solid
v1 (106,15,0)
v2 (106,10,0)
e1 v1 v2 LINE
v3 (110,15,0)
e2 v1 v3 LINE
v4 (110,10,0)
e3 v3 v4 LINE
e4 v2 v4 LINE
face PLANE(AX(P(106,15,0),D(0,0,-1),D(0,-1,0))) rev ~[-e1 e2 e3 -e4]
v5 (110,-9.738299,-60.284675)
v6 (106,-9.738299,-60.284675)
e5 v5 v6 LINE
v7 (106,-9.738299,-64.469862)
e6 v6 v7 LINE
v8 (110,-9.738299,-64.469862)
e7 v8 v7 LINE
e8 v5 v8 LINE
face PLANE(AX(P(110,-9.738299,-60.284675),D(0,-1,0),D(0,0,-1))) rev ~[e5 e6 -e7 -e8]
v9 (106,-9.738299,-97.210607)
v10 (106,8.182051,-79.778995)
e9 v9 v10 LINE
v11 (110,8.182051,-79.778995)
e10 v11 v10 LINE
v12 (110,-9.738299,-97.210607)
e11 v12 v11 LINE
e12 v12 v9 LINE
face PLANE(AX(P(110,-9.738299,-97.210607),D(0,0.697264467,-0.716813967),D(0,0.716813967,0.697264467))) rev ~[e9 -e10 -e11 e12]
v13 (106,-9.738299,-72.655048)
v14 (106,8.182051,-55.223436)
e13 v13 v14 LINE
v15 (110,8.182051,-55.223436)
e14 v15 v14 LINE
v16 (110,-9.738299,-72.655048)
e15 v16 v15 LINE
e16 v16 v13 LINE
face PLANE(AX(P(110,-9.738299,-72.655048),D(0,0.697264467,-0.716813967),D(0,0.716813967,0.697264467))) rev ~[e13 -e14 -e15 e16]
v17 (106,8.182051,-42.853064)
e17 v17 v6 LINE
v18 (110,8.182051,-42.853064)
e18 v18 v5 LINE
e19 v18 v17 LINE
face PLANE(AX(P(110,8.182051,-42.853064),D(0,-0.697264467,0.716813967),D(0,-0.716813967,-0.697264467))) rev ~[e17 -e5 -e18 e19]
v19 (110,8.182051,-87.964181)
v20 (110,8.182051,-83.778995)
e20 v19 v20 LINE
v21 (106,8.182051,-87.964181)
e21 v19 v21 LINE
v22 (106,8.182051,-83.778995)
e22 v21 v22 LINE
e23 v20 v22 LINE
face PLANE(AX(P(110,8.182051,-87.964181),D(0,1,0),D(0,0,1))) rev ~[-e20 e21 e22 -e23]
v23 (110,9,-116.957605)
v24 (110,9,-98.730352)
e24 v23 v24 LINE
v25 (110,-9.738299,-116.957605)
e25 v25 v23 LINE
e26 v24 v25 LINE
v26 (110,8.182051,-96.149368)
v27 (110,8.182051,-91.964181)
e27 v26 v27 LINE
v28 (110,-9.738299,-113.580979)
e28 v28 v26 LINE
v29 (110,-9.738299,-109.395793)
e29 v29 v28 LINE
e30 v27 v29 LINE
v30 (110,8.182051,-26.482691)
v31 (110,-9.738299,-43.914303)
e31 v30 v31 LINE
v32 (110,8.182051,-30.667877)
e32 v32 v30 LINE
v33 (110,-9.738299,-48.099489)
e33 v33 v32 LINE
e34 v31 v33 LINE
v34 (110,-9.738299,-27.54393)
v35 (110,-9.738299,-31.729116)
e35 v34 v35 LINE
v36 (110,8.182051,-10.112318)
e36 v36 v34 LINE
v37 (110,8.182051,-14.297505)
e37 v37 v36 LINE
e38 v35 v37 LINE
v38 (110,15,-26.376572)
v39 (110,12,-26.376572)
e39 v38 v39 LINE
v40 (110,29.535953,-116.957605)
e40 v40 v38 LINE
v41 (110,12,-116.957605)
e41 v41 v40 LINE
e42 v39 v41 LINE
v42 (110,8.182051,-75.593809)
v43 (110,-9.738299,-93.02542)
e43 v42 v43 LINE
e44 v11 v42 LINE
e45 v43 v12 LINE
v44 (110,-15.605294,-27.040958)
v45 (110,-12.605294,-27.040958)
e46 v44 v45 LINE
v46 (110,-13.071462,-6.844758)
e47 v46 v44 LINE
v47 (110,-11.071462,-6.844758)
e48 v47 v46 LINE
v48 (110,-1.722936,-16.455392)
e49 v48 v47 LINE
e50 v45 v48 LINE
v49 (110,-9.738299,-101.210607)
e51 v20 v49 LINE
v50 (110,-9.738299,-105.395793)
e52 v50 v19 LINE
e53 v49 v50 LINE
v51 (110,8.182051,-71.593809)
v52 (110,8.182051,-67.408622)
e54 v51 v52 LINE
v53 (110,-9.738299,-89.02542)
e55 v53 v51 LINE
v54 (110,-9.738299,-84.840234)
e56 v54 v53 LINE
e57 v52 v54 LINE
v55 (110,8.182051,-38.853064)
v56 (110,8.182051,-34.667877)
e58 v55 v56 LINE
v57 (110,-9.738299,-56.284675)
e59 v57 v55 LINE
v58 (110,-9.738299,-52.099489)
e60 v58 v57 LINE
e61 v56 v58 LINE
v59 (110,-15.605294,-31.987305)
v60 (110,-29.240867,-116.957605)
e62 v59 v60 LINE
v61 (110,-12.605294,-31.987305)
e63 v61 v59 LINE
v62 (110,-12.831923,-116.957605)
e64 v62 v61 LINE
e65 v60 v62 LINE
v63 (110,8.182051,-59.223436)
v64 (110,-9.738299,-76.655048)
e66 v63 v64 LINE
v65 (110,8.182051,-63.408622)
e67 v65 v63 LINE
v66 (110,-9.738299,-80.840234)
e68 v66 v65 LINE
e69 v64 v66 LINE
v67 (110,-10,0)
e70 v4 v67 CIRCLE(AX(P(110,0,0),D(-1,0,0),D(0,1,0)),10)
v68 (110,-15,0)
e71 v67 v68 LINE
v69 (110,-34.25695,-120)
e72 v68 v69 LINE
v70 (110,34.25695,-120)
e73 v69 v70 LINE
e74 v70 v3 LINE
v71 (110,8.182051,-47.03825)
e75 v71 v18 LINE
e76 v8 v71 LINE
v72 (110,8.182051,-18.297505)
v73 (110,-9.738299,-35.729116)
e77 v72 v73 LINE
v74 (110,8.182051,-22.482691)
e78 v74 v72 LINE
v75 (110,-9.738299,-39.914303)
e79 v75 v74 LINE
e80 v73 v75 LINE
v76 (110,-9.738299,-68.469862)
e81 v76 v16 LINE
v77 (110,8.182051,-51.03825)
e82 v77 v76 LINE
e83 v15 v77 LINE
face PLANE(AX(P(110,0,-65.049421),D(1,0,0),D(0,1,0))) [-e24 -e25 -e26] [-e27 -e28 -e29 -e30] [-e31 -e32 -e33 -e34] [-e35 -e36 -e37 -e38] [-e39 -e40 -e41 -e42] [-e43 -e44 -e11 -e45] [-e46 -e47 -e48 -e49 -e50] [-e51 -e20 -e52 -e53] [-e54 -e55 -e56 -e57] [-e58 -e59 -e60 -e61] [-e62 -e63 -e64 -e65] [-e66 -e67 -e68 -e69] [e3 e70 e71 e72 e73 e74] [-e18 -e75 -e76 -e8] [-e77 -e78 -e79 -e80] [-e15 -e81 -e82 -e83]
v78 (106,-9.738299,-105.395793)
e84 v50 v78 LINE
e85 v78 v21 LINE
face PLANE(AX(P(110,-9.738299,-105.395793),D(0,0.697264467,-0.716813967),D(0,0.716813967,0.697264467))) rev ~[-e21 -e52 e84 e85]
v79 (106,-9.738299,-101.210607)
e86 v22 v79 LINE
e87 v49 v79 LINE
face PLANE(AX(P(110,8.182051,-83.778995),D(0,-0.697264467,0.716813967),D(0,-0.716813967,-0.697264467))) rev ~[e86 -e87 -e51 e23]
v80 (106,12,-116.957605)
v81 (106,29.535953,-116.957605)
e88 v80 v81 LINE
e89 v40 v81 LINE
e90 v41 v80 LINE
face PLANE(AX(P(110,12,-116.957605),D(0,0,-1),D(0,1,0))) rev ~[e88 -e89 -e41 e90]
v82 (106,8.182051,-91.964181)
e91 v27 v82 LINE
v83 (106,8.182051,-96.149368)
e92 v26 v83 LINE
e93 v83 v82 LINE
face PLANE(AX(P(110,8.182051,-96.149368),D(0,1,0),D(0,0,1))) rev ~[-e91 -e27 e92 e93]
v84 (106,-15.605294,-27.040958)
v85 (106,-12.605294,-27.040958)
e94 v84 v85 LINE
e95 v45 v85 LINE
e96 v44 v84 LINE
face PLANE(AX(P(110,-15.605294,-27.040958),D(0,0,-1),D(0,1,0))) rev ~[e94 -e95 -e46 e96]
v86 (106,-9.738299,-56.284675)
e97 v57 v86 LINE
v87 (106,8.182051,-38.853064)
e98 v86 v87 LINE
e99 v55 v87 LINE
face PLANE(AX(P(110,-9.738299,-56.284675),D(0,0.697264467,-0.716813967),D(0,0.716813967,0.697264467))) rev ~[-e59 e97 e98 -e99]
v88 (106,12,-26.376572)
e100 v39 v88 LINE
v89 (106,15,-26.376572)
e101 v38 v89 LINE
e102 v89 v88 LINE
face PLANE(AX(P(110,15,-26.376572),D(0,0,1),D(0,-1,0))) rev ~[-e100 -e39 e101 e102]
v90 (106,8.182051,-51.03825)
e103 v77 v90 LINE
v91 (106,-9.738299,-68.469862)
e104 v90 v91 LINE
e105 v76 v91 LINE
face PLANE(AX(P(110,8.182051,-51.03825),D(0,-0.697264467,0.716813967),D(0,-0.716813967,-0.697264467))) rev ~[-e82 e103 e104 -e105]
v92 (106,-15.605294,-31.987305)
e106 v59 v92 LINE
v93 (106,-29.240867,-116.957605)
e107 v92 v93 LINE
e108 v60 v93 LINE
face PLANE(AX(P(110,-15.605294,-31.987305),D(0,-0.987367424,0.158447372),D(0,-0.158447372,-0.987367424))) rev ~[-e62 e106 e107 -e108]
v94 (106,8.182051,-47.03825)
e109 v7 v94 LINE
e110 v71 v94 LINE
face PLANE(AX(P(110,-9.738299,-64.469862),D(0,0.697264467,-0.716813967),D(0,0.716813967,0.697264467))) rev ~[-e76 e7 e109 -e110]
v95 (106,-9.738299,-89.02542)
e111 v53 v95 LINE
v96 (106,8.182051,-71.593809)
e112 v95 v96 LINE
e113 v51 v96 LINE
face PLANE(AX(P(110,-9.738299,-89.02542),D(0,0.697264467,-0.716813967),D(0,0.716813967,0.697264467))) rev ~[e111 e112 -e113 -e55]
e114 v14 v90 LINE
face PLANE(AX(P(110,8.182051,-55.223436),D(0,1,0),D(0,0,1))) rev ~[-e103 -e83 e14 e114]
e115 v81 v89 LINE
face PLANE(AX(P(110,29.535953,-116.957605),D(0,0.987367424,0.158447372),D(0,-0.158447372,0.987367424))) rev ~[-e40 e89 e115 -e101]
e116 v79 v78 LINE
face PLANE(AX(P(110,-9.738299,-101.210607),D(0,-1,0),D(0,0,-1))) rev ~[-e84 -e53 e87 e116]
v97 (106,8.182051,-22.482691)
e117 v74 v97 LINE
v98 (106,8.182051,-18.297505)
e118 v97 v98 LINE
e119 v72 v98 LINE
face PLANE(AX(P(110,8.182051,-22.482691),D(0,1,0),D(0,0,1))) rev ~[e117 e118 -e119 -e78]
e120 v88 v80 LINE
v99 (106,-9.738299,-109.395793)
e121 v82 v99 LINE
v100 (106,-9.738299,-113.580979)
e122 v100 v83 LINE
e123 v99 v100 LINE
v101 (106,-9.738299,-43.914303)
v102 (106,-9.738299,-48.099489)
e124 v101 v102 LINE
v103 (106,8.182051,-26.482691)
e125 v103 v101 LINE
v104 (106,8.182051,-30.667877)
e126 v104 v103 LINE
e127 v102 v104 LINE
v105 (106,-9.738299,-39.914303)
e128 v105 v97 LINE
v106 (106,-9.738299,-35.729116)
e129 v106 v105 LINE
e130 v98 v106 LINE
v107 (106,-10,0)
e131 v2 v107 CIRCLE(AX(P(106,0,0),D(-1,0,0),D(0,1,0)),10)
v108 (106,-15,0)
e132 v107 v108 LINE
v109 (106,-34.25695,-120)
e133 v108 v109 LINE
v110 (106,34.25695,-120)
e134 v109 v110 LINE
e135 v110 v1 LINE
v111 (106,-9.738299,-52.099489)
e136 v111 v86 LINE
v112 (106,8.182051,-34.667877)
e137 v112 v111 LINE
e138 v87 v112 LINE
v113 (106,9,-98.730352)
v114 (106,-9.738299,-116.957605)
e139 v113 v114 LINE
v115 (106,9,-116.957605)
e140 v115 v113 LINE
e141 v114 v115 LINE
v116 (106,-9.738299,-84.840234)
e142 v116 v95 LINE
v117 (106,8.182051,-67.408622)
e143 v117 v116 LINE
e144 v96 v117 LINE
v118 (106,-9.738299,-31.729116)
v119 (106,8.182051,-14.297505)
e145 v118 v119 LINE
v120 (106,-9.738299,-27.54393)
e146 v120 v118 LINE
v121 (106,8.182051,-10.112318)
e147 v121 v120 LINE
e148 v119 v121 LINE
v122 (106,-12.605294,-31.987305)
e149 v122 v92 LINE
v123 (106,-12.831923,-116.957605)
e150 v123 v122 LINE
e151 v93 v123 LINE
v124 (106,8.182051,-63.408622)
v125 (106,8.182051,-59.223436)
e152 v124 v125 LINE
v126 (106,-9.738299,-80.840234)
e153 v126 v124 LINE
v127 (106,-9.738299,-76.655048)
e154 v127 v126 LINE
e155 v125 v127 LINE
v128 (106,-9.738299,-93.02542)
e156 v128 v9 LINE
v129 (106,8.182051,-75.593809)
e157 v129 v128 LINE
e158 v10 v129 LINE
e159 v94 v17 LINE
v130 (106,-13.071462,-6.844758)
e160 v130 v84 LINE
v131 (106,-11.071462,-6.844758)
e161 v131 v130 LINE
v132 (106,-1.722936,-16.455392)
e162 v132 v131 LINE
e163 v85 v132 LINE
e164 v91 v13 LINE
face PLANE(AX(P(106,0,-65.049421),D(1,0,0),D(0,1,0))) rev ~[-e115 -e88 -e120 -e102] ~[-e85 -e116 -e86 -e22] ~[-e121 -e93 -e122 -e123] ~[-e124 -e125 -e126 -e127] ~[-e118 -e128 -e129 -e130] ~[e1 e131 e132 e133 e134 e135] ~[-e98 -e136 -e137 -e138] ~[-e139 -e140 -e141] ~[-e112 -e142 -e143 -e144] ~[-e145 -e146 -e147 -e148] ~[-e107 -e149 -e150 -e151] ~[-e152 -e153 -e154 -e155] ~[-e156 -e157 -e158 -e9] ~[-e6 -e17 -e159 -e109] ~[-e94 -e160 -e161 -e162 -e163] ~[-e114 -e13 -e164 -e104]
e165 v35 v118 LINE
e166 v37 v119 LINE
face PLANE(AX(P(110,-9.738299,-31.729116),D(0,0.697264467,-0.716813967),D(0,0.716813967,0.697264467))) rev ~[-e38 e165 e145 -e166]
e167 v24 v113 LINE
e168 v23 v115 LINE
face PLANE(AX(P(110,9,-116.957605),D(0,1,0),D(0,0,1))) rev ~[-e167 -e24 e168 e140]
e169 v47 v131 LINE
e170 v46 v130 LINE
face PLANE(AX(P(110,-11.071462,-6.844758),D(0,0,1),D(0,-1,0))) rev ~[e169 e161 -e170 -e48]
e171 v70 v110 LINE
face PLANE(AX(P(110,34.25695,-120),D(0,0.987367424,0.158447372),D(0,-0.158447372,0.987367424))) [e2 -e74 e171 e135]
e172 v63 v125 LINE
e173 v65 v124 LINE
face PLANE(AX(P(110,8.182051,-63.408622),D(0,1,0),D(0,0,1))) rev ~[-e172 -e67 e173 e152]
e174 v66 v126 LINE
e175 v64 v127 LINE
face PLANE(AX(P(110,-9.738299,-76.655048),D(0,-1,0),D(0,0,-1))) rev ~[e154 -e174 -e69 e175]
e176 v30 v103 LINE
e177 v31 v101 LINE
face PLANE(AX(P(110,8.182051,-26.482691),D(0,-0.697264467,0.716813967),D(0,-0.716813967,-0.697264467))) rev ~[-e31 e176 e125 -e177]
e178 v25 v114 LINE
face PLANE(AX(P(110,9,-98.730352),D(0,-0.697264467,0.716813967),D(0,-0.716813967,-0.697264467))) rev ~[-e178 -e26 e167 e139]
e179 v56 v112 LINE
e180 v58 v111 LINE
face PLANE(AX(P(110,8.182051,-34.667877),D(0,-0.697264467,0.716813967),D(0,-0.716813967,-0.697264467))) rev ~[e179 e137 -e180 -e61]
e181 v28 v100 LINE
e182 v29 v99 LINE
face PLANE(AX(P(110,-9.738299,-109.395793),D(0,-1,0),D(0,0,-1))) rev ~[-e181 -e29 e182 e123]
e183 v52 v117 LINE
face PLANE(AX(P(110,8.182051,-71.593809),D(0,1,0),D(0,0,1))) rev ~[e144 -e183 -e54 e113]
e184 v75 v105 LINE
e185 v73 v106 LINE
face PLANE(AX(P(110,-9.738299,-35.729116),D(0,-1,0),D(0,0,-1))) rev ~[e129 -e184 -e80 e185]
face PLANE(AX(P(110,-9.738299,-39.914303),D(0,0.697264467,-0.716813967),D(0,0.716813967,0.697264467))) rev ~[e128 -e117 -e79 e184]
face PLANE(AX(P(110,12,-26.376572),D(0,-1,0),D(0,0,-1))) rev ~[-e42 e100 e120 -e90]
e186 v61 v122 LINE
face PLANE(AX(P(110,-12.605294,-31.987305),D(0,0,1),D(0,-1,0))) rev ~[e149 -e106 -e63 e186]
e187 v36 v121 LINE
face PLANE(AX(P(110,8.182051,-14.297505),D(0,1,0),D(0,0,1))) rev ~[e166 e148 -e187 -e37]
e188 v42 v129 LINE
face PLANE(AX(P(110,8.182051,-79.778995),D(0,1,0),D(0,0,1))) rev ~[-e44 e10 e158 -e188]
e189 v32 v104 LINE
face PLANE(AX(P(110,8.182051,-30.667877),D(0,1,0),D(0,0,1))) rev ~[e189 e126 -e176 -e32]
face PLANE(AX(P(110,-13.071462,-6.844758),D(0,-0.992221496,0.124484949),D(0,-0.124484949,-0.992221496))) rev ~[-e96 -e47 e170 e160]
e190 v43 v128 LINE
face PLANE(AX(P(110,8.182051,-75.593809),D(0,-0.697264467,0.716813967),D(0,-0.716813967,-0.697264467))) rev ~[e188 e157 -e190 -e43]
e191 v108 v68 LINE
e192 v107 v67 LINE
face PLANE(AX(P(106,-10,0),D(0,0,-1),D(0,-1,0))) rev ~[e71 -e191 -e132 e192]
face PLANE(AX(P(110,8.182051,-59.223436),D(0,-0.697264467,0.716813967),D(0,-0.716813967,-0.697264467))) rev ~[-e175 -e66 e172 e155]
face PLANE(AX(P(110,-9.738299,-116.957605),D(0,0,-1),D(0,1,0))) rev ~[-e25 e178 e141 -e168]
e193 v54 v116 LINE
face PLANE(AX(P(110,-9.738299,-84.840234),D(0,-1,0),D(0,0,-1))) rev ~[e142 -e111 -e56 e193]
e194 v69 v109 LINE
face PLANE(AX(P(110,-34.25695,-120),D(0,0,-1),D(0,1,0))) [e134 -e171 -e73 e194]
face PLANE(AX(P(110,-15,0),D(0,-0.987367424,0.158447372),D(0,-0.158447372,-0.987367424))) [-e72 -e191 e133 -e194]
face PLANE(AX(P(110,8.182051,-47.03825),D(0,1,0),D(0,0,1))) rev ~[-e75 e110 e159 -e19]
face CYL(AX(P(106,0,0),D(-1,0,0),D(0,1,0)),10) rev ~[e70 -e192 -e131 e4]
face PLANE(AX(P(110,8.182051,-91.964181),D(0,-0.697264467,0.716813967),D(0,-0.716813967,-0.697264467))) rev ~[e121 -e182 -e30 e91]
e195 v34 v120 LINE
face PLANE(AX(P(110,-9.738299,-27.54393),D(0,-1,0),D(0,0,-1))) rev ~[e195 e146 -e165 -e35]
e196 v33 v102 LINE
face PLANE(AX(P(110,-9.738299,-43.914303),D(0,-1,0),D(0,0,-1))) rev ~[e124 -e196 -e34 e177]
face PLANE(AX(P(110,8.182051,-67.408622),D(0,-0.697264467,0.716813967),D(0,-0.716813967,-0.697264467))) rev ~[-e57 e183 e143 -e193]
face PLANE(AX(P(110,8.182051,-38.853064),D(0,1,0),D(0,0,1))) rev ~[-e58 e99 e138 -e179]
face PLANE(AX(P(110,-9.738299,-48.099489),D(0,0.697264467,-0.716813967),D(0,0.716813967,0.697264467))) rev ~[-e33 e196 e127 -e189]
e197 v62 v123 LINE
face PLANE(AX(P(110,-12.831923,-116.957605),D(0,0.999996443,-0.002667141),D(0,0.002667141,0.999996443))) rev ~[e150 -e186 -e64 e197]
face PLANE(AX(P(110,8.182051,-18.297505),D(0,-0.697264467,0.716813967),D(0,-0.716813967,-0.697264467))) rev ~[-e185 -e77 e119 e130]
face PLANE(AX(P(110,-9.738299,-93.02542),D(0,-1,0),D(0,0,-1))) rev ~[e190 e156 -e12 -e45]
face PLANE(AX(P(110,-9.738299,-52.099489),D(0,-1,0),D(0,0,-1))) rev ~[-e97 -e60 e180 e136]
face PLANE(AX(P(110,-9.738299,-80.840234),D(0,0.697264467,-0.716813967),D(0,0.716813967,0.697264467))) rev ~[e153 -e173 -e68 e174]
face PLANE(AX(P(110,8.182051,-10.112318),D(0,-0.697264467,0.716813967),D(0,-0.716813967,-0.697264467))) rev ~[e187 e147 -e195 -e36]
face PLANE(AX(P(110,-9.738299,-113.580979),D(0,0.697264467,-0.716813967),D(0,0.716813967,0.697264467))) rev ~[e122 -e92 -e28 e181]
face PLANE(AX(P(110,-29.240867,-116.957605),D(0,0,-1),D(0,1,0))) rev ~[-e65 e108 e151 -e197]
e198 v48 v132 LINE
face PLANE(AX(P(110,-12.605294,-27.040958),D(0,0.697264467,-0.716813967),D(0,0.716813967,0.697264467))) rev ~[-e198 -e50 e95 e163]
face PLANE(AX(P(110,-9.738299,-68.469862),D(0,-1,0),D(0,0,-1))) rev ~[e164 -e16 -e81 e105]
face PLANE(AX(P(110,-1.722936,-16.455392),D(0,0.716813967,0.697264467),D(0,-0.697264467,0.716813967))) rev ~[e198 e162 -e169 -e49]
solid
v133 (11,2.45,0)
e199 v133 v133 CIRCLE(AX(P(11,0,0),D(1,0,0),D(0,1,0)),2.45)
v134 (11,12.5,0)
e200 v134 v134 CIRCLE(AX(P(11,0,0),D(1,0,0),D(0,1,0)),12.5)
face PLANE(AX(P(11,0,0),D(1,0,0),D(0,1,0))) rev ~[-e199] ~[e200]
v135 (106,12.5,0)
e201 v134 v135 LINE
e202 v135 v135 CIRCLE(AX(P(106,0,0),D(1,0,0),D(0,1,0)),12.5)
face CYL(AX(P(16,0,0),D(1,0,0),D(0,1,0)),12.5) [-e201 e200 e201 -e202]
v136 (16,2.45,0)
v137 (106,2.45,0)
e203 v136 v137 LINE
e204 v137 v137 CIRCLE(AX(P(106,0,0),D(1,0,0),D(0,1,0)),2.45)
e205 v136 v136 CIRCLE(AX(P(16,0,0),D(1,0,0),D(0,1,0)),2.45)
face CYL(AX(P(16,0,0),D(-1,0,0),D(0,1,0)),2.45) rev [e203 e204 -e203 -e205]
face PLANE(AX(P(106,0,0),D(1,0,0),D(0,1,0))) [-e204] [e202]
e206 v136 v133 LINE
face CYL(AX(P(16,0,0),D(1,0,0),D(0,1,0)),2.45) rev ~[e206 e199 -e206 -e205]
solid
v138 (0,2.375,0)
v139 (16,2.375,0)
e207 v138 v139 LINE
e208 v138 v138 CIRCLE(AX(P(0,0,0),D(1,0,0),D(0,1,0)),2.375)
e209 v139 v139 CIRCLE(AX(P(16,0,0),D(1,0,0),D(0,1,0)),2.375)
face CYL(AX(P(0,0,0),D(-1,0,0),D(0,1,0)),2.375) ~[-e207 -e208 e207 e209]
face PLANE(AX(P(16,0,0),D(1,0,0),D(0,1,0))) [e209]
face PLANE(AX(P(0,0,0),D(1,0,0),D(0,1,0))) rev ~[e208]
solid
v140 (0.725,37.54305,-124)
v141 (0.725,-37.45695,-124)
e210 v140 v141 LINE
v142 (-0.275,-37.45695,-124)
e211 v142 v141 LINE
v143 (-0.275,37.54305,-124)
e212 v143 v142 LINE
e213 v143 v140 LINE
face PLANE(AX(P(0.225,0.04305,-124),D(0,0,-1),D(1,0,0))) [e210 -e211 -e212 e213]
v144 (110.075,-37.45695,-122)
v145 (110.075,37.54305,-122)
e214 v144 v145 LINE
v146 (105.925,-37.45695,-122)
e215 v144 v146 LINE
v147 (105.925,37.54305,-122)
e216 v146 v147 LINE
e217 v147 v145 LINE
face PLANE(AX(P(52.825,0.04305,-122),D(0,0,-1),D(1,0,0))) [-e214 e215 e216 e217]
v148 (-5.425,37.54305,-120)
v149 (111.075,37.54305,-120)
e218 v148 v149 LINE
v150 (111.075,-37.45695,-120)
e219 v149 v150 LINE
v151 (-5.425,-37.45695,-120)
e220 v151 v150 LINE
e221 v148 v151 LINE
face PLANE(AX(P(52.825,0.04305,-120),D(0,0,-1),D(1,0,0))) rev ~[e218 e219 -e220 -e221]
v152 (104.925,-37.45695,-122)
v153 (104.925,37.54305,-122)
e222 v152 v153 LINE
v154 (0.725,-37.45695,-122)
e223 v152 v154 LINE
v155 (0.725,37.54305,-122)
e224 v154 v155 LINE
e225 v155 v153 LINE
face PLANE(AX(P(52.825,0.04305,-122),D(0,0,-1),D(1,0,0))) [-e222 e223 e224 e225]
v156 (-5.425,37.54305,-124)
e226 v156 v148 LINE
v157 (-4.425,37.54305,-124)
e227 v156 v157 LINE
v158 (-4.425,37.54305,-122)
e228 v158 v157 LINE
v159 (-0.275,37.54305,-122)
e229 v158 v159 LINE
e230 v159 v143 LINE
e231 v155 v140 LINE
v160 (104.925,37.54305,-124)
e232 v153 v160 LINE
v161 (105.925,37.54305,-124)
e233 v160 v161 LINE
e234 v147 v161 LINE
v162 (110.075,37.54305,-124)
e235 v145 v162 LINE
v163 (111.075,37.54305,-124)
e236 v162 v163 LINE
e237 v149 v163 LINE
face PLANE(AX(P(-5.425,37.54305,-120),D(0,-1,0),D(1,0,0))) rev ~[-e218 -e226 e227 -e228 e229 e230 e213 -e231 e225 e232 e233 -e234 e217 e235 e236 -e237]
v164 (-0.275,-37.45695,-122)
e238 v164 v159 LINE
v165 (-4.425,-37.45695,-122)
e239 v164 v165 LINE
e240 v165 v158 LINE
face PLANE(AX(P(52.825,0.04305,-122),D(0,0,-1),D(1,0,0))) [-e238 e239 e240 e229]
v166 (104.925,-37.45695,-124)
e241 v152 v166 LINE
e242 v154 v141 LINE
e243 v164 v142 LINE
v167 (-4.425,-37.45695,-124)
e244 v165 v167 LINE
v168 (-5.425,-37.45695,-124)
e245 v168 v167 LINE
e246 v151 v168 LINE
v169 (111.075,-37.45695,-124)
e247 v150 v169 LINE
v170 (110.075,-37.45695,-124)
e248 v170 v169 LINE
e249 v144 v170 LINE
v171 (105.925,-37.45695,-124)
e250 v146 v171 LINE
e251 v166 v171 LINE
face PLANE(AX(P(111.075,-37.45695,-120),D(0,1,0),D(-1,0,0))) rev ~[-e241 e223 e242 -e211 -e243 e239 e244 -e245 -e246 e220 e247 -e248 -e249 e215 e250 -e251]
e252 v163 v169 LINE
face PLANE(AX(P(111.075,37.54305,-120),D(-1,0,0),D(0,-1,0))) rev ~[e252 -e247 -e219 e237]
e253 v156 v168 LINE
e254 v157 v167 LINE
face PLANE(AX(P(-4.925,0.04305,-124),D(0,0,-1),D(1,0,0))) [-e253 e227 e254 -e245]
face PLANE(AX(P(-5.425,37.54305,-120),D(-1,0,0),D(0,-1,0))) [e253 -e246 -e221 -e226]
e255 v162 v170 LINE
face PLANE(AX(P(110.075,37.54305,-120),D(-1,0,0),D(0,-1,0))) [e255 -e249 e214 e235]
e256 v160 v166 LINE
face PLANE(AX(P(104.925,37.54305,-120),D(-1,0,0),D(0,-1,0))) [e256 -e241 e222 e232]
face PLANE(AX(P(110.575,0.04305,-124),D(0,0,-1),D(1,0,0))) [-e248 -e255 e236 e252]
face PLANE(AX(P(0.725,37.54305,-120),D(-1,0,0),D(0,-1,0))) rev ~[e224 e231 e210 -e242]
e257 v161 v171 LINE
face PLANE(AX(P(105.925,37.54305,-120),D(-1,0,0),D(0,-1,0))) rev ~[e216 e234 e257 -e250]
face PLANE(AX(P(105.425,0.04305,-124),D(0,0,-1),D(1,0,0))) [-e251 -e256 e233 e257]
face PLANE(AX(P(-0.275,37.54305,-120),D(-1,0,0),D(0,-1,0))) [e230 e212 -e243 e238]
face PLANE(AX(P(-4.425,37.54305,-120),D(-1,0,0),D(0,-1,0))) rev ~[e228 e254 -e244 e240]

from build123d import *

# Parameters (mm, degrees)
F0_R          = 2.375
F1_DEPTH      = 16
F2_R          = 12.5
F2_R_2        = 2.45
F3_DEPTH      = 90
F3_DEPTH_BACK = 5
F5_DEPTH      = 4
F7_DEPTH      = 4
F9_DEPTH      = 25
F10_W         = 104.2
F10_H         = 75
F10_W_2       = 4.15
F10_W_3       = 1
F10_W_4       = 4
F10_H_2       = 68.5138990056
F11_DEPTH     = 2
F12_DEPTH     = 4


with BuildPart() as f1:
    # F0 (on Right) → F1 (new body)
    with BuildSketch(Plane.YZ):
        Circle(F0_R)
    extrude(amount=F1_DEPTH)


with BuildPart() as f3:
    # F2 (on face) → F3 (new body, two sides)
    with BuildSketch(Plane.YZ.offset(16)) as f3_sk:
        Circle(F2_R)
        Circle(F2_R_2, mode=Mode.SUBTRACT)
    extrude(amount=F3_DEPTH)
    extrude(f3_sk.sketch, amount=-F3_DEPTH_BACK)


with BuildPart() as f5:
    # F4 (on face) → F5 (new body)
    with BuildSketch(Plane.YZ.offset(106)):
        with BuildLine():
            Line((15, 0), (12.5, 0))
            ThreePointArc((12.5, 0), (0, -12.5), (-12.5, 0))
            Line((-12.5, 0), (-15, 0))
            ThreePointArc((-15, 0), (0, -15), (15, 0))
        make_face()
        with BuildLine():
            Line((12.5, 0), (10, 0))
            ThreePointArc((10, 0), (0, -10), (-10, 0))
            Line((-10, 0), (-12.5, 0))
            ThreePointArc((-12.5, 0), (0, -12.5), (12.5, 0))
        make_face()
    extrude(amount=F5_DEPTH)

    # F6 (on face) → F7 (join)
    with BuildSketch(Plane.YZ.offset(110)):
        with BuildLine():
            Line((34.2569495028, -120), (15, 0))
            ThreePointArc((15, 0), (0, -15), (-15, 0))
            Line((-15, 0), (-34.2569495028, -120))
            Line((-34.2569495028, -120), (34.2569495028, -120))
        make_face()
        with BuildLine():
            Line((15, 0), (12.5, 0))
            ThreePointArc((12.5, 0), (0, -12.5), (-12.5, 0))
            Line((-12.5, 0), (-15, 0))
            ThreePointArc((-15, 0), (0, -15), (15, 0))
        make_face()
        with BuildLine():
            Line((12.5, 0), (10, 0))
            ThreePointArc((10, 0), (0, -10), (-10, 0))
            Line((-10, 0), (-12.5, 0))
            ThreePointArc((-12.5, 0), (0, -12.5), (12.5, 0))
        make_face()
    extrude(amount=-F7_DEPTH)

    # F8 (on face) → F9 (cut)
    with BuildSketch(Plane.YZ.offset(110)):
        Polygon((8.1820506343, -10.1123183083), (-9.7382985293, -27.5439299909), (-9.7382985293, -31.7291163014), (8.1820506343, -14.2975046188), align=None)
        Polygon((8.1820506343, -18.2975046188), (-9.7382985293, -35.7291163014), (-9.7382985293, -39.9143026119), (8.1820506343, -22.4826909294), align=None)
        Polygon((8.1820506343, -26.4826909294), (-9.7382985293, -43.9143026119), (-9.7382985293, -48.0994889225), (8.1820506343, -30.6678772399), align=None)
        Polygon((8.1820506343, -34.6678772399), (-9.7382985293, -52.0994889225), (-9.7382985293, -56.284675233), (8.1820506343, -38.8530635505), align=None)
        Polygon((8.1820506343, -42.8530635505), (-9.7382985293, -60.284675233), (-9.7382985293, -64.4698615436), (8.1820506343, -47.038249861), align=None)
        Polygon((8.1820506343, -51.038249861), (-9.7382985293, -68.4698615436), (-9.7382985293, -72.6550478541), (8.1820506343, -55.2234361716), align=None)
        Polygon((8.1820506343, -59.2234361716), (-9.7382985293, -76.6550478541), (-9.7382985293, -80.8402341647), (8.1820506343, -63.4086224821), align=None)
        Polygon((8.1820506343, -67.4086224821), (-9.7382985293, -84.8402341647), (-9.7382985293, -89.0254204752), (8.1820506343, -71.5938087926), align=None)
        Polygon((8.1820506343, -75.5938087926), (-9.7382985293, -93.0254204752), (-9.7382985293, -97.2106067857), (8.1820506343, -79.7789951032), align=None)
        Polygon((8.1820506343, -83.7789951032), (-9.7382985293, -101.2106067857), (-9.7382985293, -105.3957930963), (8.1820506343, -87.9641814137), align=None)
        Polygon((8.1820506343, -91.9641814137), (-9.7382985293, -109.3957930963), (-9.7382985293, -113.5809794068), (8.1820506343, -96.1493677243), align=None)
        Polygon((-13.0714615807, -6.8447575172), (-15.6052940354, -27.0409584045), (-12.6052940354, -27.0409584045), (-1.7229356509, -16.4553920288), (-11.0714615807, -6.8447575172), align=None)
        Polygon((-29.240867123, -116.9576048851), (-12.8319226205, -116.9576048851), (-12.6052940354, -31.9873051873), (-15.6052940354, -31.9873051873), align=None)
        Polygon((12, -26.3765715063), (12, -98.7303515781), (12, -116.9576048851), (29.5359532141, -116.9576048851), (15, -26.3765715063), align=None)
        Polygon((9, -98.7303515781), (-9.7382985293, -116.9576048851), (9, -116.9576048851), align=None)
    extrude(amount=-F9_DEPTH, mode=Mode.SUBTRACT)


with BuildPart() as f11:
    # F10 (on face) → F11 (new body)
    with BuildSketch(Plane(origin=(0, 0, -120), x_dir=(1, 0, 0), z_dir=(0, 0, -1))):
        with Locations((52.825, -0.0430504972)):
            Rectangle(F10_W, F10_H)
        with Locations((-2.35, -0.0430504972)):
            Rectangle(F10_W_2, F10_H)
        with Locations((-4.925, -0.0430504972)):
            Rectangle(F10_W_3, F10_H)
        with Locations((0.225, -0.0430504972)):
            Rectangle(F10_W_3, F10_H)
        with Locations((110.575, -0.0430504972)):
            Rectangle(F10_W_3, F10_H)
        with Locations((105.425, -0.0430504972)):
            Rectangle(F10_W_3, F10_H)
        with Locations((108, -0.0430504972)):
            Rectangle(F10_W_2, F10_H)
        with Locations((108, 0)):
            Rectangle(F10_W_4, F10_H_2, mode=Mode.SUBTRACT)
        with Locations((108, 0)):
            Rectangle(F10_W_4, F10_H_2)
    extrude(amount=F11_DEPTH)

    # F10 (on face) → F12 (join)
    with BuildSketch(Plane(origin=(0, 0, -120), x_dir=(1, 0, 0), z_dir=(0, 0, -1))):
        with Locations((110.575, -0.0430504972)):
            Rectangle(F10_W_3, F10_H)
        with Locations((105.425, -0.0430504972)):
            Rectangle(F10_W_3, F10_H)
        with Locations((-4.925, -0.0430504972)):
            Rectangle(F10_W_3, F10_H)
        with Locations((0.225, -0.0430504972)):
            Rectangle(F10_W_3, F10_H)
    extrude(amount=F12_DEPTH)


solid = Compound([f1.part, f3.part, f5.part, f11.part])
